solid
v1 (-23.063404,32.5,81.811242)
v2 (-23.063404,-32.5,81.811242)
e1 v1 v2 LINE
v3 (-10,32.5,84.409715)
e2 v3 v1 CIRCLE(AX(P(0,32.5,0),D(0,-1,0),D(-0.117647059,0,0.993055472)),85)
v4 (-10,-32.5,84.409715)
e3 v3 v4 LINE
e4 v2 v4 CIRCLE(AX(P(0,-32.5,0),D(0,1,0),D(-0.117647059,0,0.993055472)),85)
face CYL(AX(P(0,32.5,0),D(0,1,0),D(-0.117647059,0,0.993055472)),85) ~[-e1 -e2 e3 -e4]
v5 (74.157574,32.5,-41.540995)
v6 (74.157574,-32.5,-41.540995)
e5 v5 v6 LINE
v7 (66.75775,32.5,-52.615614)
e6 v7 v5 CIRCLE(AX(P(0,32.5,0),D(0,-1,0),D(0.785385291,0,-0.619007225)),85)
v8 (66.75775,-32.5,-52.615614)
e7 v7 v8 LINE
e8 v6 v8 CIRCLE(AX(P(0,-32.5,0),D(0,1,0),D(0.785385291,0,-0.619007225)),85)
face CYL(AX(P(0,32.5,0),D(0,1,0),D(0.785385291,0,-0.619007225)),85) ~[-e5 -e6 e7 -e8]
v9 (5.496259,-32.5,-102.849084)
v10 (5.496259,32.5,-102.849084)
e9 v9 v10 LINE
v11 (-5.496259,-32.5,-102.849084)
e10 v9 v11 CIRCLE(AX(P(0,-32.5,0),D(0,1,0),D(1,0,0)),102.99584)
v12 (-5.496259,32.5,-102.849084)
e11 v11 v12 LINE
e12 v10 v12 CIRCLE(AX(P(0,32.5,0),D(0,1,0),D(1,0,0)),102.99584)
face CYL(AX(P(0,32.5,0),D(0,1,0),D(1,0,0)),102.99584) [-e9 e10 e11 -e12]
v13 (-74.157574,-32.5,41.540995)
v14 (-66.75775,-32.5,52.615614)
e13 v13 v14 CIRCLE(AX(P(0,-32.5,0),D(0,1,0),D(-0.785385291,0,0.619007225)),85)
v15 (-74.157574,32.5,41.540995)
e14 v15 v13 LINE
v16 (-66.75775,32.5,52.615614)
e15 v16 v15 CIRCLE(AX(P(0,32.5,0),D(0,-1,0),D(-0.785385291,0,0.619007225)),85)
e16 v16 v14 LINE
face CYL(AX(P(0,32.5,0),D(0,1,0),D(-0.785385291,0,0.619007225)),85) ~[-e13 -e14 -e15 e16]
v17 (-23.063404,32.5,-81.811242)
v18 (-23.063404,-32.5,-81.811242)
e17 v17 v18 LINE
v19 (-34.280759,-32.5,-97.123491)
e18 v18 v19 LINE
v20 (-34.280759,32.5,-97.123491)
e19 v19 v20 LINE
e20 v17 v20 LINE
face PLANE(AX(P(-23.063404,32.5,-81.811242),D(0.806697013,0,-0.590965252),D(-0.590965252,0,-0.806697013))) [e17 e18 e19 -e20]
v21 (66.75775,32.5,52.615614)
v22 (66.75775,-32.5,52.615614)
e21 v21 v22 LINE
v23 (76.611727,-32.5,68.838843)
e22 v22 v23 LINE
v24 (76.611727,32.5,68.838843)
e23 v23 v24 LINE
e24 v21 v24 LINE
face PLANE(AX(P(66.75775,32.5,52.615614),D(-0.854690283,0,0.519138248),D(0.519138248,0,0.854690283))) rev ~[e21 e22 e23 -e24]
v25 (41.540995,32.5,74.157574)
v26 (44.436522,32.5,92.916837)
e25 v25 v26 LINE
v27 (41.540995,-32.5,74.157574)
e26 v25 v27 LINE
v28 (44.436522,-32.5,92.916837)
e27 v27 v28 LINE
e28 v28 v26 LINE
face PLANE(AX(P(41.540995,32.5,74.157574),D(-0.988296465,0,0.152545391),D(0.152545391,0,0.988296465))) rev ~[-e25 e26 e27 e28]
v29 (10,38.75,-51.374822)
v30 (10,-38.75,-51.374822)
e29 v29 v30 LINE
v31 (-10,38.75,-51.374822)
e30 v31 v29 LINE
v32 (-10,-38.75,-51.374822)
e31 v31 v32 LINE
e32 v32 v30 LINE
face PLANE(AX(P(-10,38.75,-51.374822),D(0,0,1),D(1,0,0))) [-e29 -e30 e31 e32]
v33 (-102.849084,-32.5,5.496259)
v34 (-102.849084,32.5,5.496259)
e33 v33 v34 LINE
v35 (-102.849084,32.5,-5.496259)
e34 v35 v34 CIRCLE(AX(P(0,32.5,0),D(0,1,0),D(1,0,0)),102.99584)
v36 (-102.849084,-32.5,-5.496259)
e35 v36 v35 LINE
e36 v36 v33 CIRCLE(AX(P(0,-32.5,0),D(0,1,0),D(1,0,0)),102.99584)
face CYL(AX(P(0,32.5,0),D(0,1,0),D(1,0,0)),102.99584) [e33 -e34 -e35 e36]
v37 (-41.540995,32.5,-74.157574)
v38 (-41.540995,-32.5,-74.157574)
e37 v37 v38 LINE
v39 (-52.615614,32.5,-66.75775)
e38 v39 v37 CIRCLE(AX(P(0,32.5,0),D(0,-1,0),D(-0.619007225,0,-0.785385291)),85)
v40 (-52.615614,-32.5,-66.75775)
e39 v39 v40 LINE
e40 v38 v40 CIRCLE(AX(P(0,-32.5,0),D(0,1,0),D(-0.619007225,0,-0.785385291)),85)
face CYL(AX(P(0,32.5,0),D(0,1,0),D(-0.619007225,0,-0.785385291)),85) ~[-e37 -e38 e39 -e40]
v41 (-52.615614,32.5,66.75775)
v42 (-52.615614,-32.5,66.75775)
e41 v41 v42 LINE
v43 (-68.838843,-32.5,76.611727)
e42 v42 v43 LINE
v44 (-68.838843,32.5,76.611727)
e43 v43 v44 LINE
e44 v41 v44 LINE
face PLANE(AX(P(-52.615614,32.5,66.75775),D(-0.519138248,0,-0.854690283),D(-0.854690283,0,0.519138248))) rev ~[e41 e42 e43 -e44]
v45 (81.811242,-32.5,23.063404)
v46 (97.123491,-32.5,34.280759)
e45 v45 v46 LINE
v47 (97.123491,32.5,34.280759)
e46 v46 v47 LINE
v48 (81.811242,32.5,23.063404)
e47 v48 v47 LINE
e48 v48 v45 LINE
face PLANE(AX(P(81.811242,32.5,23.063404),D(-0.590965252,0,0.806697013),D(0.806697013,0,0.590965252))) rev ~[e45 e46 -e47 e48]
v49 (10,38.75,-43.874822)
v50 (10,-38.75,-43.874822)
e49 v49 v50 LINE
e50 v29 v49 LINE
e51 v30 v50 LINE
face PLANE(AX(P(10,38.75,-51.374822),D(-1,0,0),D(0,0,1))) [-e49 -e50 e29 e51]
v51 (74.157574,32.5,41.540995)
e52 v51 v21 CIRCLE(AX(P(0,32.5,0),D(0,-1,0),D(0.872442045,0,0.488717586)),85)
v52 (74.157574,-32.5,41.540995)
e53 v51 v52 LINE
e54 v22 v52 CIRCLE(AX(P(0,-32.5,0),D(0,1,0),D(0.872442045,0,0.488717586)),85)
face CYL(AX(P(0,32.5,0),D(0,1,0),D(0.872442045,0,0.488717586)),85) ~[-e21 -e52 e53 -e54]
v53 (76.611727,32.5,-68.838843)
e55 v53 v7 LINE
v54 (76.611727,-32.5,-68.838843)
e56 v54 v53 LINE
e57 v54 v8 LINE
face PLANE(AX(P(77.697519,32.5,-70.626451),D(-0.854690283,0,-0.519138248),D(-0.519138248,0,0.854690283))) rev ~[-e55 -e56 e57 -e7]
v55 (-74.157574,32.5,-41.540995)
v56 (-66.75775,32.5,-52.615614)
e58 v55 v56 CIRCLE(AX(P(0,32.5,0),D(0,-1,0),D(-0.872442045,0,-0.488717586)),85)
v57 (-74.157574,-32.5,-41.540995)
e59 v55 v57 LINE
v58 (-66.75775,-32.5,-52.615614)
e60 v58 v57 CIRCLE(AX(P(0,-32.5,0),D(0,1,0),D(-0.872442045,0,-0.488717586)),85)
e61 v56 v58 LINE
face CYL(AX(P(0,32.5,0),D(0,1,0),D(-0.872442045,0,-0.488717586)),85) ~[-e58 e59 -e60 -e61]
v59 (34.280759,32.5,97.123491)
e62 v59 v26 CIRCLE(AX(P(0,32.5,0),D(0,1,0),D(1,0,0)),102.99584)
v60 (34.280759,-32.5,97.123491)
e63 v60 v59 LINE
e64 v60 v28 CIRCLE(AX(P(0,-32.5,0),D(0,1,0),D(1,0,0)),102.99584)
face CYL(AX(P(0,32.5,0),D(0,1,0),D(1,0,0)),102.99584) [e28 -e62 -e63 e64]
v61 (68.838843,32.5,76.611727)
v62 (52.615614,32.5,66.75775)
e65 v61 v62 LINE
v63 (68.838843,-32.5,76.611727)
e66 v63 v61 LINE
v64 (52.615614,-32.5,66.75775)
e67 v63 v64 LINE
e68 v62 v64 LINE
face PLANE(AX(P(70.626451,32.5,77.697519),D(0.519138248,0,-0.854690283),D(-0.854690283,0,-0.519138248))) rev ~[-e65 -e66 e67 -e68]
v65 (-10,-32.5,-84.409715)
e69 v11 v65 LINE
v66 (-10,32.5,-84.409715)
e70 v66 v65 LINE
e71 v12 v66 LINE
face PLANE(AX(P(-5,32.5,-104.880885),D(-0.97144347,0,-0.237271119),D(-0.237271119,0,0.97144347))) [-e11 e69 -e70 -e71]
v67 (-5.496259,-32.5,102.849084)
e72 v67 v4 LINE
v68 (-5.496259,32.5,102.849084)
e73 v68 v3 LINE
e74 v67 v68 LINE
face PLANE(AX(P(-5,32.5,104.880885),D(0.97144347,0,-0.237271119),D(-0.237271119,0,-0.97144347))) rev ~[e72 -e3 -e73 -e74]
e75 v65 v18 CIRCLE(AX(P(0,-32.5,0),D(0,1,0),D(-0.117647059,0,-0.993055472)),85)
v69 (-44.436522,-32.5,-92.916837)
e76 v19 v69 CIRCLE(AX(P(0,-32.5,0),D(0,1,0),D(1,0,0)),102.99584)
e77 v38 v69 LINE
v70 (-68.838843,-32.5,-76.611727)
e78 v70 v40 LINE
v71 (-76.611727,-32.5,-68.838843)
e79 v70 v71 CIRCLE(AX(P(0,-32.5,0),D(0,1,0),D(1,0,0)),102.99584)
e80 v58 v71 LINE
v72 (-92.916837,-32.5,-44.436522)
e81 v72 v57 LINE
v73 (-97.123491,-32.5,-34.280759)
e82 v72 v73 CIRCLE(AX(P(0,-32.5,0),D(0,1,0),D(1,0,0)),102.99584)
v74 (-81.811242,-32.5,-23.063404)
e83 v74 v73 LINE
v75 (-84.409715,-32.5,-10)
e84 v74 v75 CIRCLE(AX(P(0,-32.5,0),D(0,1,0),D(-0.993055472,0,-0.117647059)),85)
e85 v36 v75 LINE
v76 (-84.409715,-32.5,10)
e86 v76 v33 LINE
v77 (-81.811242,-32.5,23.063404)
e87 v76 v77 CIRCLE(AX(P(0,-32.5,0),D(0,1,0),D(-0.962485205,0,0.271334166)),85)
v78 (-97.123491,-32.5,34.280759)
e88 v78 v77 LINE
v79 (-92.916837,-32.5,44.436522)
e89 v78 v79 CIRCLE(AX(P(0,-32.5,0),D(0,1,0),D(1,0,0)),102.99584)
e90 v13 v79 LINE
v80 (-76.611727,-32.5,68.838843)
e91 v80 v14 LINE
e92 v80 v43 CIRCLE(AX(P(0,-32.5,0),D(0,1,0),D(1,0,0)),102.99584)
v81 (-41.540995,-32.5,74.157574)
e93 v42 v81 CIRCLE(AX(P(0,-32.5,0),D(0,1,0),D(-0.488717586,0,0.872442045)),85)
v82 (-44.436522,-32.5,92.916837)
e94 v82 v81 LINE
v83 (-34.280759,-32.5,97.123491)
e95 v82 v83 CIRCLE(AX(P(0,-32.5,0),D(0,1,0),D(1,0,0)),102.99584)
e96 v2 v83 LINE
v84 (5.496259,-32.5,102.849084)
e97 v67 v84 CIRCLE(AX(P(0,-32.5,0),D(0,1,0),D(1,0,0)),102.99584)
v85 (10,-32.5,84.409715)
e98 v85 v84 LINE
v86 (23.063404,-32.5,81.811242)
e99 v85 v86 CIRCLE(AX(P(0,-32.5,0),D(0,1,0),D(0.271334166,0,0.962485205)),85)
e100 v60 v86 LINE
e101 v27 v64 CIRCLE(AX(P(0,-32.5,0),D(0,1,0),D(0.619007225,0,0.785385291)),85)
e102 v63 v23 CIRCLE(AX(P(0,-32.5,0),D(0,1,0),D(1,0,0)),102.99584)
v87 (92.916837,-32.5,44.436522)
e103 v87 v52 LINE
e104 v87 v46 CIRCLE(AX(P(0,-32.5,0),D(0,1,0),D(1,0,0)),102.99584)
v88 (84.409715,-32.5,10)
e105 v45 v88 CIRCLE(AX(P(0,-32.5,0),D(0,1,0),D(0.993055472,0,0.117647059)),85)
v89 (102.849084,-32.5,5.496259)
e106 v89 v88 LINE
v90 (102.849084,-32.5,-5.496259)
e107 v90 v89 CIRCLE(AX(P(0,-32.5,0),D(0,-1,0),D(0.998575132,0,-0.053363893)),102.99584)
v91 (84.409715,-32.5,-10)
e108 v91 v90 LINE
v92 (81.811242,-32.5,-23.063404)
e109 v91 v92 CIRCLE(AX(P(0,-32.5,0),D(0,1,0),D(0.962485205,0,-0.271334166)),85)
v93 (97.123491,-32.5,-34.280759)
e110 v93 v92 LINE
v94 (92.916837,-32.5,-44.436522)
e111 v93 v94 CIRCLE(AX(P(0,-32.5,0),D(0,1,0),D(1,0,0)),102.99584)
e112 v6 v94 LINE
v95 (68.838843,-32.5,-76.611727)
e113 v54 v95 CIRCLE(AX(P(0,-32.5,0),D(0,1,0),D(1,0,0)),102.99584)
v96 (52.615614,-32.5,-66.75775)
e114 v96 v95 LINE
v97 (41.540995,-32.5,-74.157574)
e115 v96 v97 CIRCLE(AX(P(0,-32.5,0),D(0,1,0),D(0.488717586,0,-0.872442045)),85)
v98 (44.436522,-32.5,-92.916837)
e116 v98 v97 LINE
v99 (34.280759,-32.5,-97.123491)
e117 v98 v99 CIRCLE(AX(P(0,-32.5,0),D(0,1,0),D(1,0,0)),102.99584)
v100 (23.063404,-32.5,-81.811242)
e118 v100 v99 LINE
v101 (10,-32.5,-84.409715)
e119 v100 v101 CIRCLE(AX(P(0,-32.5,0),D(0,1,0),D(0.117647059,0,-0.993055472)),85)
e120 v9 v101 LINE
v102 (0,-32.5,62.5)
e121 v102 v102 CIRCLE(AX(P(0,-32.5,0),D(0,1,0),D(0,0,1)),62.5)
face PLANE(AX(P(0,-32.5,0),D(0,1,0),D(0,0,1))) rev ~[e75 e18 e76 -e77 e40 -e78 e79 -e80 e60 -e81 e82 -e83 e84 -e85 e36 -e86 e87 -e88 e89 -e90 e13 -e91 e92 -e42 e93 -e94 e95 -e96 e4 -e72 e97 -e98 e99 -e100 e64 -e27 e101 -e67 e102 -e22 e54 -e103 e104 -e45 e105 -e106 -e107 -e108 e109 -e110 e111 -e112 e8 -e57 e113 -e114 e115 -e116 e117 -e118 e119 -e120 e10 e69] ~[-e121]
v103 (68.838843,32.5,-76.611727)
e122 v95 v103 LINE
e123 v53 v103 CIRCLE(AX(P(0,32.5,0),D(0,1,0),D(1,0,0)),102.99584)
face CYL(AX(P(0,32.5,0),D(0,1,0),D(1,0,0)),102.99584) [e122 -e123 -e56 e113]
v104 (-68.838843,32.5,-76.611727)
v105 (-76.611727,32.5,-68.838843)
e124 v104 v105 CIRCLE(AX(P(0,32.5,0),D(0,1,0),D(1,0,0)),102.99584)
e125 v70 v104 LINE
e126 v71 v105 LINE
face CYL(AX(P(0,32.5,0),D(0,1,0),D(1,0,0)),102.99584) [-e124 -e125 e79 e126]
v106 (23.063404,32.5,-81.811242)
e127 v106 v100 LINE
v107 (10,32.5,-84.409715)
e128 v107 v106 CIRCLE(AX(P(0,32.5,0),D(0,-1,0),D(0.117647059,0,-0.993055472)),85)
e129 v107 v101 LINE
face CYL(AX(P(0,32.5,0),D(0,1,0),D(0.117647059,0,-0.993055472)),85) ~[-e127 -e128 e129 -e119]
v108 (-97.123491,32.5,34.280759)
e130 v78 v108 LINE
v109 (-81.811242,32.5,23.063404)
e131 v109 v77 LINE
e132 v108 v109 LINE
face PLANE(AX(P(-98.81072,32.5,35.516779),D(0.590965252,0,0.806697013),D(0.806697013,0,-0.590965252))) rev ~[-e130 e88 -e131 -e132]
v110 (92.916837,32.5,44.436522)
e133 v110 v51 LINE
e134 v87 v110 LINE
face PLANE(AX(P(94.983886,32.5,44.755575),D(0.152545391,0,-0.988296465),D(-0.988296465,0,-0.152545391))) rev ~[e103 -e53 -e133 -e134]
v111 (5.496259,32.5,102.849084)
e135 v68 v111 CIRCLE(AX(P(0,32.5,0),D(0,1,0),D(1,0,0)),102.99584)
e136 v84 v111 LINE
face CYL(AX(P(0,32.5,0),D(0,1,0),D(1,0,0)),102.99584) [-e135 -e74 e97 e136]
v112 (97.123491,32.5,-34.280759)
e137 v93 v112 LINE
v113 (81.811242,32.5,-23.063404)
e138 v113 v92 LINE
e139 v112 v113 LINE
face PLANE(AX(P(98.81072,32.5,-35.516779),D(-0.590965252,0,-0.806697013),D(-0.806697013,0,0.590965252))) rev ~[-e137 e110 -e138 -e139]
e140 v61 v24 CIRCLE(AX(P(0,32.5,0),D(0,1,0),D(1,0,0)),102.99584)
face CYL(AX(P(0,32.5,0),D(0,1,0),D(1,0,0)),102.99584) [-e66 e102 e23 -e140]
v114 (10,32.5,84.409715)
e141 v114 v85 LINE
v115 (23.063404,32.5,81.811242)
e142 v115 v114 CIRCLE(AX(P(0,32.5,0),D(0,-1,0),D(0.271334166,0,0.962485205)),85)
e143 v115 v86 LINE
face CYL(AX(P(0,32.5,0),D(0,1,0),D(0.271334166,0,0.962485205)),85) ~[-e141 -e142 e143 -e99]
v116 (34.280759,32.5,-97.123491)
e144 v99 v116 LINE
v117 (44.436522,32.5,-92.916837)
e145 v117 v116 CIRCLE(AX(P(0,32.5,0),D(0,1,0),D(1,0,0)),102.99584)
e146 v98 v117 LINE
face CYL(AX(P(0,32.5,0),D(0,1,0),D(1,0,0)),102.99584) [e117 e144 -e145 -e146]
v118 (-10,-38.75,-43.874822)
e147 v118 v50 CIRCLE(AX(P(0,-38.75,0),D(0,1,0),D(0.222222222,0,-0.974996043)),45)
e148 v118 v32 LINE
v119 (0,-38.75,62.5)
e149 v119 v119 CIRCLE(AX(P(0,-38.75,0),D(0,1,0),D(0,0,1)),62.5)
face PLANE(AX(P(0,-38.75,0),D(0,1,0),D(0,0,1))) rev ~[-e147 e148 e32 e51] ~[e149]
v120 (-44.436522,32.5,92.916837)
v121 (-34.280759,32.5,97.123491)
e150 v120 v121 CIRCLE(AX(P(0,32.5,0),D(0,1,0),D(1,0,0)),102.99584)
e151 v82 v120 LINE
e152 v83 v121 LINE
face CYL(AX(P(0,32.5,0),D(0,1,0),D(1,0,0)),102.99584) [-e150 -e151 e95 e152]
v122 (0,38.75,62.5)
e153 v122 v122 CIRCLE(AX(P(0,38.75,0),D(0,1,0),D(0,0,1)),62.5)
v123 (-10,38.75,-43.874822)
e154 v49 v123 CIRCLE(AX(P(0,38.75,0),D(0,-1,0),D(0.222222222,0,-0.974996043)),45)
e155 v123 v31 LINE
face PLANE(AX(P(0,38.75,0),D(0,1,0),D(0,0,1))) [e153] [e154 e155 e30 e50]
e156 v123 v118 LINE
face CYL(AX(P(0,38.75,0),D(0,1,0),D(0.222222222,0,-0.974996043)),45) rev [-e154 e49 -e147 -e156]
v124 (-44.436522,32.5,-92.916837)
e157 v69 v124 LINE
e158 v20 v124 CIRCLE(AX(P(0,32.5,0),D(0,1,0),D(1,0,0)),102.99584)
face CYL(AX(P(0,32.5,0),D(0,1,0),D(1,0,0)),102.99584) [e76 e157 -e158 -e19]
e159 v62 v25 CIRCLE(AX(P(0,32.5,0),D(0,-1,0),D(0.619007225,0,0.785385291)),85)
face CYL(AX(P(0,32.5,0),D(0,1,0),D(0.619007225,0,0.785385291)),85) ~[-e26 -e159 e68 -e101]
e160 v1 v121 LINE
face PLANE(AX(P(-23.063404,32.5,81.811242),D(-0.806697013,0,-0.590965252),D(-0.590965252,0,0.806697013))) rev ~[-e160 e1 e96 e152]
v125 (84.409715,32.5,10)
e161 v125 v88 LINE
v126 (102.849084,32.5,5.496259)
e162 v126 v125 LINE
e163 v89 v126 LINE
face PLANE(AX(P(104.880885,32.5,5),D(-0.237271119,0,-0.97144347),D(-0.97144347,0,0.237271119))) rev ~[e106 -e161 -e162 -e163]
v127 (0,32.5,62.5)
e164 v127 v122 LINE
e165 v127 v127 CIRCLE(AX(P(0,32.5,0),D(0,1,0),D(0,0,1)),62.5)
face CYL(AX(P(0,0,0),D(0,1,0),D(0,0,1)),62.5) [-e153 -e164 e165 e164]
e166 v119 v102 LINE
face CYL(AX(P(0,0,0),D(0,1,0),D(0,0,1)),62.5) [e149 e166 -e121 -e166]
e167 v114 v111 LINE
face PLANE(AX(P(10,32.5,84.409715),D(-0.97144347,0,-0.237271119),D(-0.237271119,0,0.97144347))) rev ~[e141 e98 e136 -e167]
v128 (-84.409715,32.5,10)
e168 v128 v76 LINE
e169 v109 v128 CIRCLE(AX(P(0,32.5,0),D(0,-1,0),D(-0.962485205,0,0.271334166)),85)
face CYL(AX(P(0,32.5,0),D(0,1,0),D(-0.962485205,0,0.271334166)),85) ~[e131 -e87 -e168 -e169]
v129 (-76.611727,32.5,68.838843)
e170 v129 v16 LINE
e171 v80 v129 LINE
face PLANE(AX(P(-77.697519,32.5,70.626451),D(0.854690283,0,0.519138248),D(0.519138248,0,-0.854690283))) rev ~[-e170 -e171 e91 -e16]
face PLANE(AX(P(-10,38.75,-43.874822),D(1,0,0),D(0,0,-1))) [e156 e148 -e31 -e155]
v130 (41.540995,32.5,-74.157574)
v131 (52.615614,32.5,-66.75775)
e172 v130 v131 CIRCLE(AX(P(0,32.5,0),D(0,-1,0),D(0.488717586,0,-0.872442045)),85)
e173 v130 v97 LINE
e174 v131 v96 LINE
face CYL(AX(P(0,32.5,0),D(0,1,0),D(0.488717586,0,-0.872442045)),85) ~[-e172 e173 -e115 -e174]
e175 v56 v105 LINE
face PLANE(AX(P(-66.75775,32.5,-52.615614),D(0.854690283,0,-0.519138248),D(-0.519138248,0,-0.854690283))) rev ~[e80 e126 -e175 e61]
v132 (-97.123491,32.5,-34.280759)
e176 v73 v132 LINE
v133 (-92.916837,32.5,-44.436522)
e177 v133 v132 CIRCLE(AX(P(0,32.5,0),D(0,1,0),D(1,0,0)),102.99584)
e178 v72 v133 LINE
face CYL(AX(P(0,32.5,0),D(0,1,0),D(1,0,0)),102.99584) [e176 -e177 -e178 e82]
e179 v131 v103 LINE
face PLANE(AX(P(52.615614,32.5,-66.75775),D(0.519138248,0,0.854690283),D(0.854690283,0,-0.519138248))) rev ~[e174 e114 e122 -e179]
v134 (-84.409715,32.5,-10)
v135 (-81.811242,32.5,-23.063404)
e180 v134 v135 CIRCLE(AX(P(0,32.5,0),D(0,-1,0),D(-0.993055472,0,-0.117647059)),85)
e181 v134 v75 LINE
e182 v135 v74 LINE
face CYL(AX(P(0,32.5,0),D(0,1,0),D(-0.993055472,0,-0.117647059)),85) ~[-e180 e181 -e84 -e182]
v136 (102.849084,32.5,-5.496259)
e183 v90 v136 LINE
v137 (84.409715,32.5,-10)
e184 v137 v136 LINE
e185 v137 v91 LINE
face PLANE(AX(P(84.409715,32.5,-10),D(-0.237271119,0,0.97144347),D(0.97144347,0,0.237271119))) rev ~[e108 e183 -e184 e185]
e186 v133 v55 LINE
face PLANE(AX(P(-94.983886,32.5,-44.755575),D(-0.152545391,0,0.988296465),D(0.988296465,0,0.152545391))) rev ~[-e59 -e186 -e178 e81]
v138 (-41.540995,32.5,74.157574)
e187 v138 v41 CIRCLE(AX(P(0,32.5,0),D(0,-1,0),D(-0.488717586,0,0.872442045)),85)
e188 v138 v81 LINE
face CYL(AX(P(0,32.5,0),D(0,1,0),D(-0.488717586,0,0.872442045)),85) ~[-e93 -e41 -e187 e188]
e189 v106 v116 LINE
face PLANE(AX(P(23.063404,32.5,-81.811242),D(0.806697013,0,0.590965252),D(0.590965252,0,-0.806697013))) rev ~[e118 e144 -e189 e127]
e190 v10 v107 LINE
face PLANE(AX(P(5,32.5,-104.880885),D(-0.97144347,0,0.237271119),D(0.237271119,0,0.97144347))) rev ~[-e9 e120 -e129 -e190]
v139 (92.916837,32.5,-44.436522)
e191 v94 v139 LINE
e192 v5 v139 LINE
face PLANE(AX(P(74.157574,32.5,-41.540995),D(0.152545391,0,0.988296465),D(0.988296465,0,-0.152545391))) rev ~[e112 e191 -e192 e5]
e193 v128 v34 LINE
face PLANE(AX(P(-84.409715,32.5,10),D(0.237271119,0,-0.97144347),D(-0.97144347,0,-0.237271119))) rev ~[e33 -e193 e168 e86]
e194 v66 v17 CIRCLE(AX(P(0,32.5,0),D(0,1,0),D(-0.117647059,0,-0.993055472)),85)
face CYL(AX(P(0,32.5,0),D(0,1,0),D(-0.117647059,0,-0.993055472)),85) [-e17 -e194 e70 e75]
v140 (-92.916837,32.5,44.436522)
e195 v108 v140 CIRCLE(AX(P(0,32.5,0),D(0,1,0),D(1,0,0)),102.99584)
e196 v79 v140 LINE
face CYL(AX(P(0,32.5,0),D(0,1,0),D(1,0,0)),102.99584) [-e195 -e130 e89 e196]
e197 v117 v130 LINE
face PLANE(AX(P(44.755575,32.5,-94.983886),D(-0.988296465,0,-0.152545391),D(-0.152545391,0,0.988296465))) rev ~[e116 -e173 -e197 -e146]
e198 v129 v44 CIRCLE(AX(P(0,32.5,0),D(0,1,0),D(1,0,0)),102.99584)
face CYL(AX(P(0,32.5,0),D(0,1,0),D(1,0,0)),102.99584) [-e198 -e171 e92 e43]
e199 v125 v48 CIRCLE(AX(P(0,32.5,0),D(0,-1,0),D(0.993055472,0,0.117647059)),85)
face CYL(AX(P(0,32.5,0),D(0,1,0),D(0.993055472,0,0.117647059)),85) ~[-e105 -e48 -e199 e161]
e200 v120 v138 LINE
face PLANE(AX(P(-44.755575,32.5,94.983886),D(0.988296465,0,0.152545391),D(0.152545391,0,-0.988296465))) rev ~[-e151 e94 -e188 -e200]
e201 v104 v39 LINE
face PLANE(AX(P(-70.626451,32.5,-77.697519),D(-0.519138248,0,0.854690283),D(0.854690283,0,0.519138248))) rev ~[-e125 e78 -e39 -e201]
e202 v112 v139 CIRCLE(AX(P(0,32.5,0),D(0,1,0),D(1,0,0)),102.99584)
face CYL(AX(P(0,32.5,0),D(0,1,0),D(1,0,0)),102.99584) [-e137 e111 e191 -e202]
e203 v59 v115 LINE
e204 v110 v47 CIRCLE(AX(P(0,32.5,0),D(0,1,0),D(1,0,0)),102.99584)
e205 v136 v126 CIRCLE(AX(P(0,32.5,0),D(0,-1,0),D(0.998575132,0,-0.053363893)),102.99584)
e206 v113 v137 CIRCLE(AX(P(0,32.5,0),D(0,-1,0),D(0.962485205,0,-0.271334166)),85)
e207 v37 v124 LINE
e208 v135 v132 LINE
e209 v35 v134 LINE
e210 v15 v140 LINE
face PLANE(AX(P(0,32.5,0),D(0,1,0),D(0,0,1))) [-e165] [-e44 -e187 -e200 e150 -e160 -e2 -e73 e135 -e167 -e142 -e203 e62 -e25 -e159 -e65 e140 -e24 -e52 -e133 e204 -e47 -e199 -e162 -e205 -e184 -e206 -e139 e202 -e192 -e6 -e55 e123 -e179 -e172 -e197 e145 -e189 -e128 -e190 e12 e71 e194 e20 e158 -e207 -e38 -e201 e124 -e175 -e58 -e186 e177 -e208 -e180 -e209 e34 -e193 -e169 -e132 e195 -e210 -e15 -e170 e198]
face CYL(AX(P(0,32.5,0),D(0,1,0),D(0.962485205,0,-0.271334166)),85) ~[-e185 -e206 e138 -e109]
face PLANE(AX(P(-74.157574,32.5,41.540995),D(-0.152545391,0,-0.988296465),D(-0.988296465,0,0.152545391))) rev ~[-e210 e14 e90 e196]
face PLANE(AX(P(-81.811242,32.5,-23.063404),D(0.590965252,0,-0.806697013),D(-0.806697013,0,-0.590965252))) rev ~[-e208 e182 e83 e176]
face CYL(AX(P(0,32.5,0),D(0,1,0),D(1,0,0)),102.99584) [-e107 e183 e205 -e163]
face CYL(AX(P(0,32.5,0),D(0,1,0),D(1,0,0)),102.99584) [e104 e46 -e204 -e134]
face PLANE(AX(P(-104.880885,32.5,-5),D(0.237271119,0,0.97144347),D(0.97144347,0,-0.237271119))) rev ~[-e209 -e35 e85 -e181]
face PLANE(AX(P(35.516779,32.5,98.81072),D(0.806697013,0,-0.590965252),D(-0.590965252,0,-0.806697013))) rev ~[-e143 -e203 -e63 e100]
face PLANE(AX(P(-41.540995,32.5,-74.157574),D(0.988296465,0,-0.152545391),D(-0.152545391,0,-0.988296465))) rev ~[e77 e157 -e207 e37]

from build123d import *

# Parameters (mm, degrees)
SKETCH1_R           = 105
BOSS_EXTRUDE1_DEPTH = 32.5
SKETCH2_R           = 62.5
BOSS_EXTRUDE2_DEPTH = 38.75
CUT_EXTRUDE1_DEPTH  = 168.5
CUT_EXTRUDE2_DEPTH  = 165.70143442
SKETCH5_R           = 105
SKETCH5_R_2         = 102.995839741
CUT_EXTRUDE3_DEPTH  = 165.70143442


with BuildPart() as part:
    # Sketch1 → Boss-Extrude1 (new, symmetric)
    with BuildSketch(Plane(origin=(0, 0, 0), x_dir=(1, 0, 0), z_dir=(0, 1, 0))):
        with Locations(Location((0, 0, 0), (0, 0, 270))):
            Circle(SKETCH1_R)
    extrude(amount=BOSS_EXTRUDE1_DEPTH, both=True)

    # Sketch2 → Boss-Extrude2 (add, symmetric)
    with BuildSketch(Plane(origin=(0, 0, 0), x_dir=(1, 0, 0), z_dir=(0, 1, 0))):
        with Locations(Location((0, 0, 0), (0, 0, 270))):
            Circle(SKETCH2_R)
    extrude(amount=BOSS_EXTRUDE2_DEPTH, both=True)

    # Sketch3 → Cut-Extrude1 (cut, through all)
    with BuildSketch(Plane(origin=(0, 38.75, 0), x_dir=(1, 0, 0), z_dir=(0, 1, 0))):
        with BuildLine():
            Line((-10, 43.874821937), (-10, 51.374821937))
            Line((-10, 51.374821937), (10, 51.374821937))
            Line((10, 51.374821937), (10, 43.874821937))
            ThreePointArc((10, 43.874821937), (0, -45), (-10, 43.874821937))
        make_face()
    extrude(amount=-CUT_EXTRUDE1_DEPTH, mode=Mode.SUBTRACT)

    # Sketch4 → Cut-Extrude2 (cut, through all)
    with BuildSketch(Plane(origin=(0, 32.5, 0), x_dir=(1, 0, 0), z_dir=(0, 1, 0))):
        with BuildLine():
            Line((-5, 104.880884817), (-10, 84.409715081))
            ThreePointArc((-10, 84.409715081), (-16.582677371, 83.366748834), (-23.063404167, 81.811242432))
            Line((-23.063404167, 81.811242432), (-35.516779329, 98.810719996))
            ThreePointArc((-35.516779329, 98.810719996), (-20.484483812, 102.982454442), (-5, 104.880884817))
        make_face()
        with BuildLine():
            Line((5, 104.880884817), (10, 84.409715081))
            ThreePointArc((10, 84.409715081), (16.582677371, 83.366748834), (23.063404167, 81.811242432))
            Line((23.063404167, 81.811242432), (35.516779329, 98.810719996))
            ThreePointArc((35.516779329, 98.810719996), (20.484483812, 102.982454442), (5, 104.880884817))
        make_face()
        with BuildLine():
            Line((44.755574654, 94.983885672), (41.540994817, 74.157573784))
            ThreePointArc((41.540994817, 74.157573784), (47.223469807, 70.674917046), (52.61561412, 66.757749743))
            Line((52.61561412, 66.757749743), (70.626450965, 77.697518777))
            ThreePointArc((70.626450965, 77.697518777), (58.334874467, 87.304309292), (44.755574654, 94.983885672))
        make_face()
        with BuildLine():
            Line((77.697518777, 70.626450965), (66.757749743, 52.61561412))
            ThreePointArc((66.757749743, 52.61561412), (70.674917046, 47.223469807), (74.157573784, 41.540994817))
            Line((74.157573784, 41.540994817), (94.983885672, 44.755574654))
            ThreePointArc((94.983885672, 44.755574654), (87.304309292, 58.334874467), (77.697518777, 70.626450965))
        make_face()
        with BuildLine():
            Line((98.810719996, 35.516779329), (81.811242432, 23.063404167))
            ThreePointArc((81.811242432, 23.063404167), (83.366748834, 16.582677371), (84.409715081, 10))
            Line((84.409715081, 10), (104.880884817, 5))
            ThreePointArc((104.880884817, 5), (102.982454442, 20.484483812), (98.810719996, 35.516779329))
        make_face()
        with BuildLine():
            Line((104.880884817, -5), (84.409715081, -10))
            ThreePointArc((84.409715081, -10), (83.366748834, -16.582677371), (81.811242432, -23.063404167))
            Line((81.811242432, -23.063404167), (98.810719996, -35.516779329))
            ThreePointArc((98.810719996, -35.516779329), (102.982454442, -20.484483812), (104.880884817, -5))
        make_face()
        with BuildLine():
            Line((94.983885672, -44.755574654), (74.157573784, -41.540994817))
            ThreePointArc((74.157573784, -41.540994817), (70.674917046, -47.223469807), (66.757749743, -52.61561412))
            Line((66.757749743, -52.61561412), (77.697518777, -70.626450965))
            ThreePointArc((77.697518777, -70.626450965), (87.304309292, -58.334874467), (94.983885672, -44.755574654))
        make_face()
        with BuildLine():
            Line((70.626450965, -77.697518777), (52.61561412, -66.757749743))
            ThreePointArc((52.61561412, -66.757749743), (47.223469807, -70.674917046), (41.540994817, -74.157573784))
            Line((41.540994817, -74.157573784), (44.755574654, -94.983885672))
            ThreePointArc((44.755574654, -94.983885672), (58.334874467, -87.304309292), (70.626450965, -77.697518777))
        make_face()
        with BuildLine():
            Line((35.516779329, -98.810719996), (23.063404167, -81.811242432))
            ThreePointArc((23.063404167, -81.811242432), (16.582677371, -83.366748834), (10, -84.409715081))
            Line((10, -84.409715081), (5, -104.880884817))
            ThreePointArc((5, -104.880884817), (20.484483812, -102.982454442), (35.516779329, -98.810719996))
        make_face()
        with BuildLine():
            Line((-5, -104.880884817), (-10, -84.409715081))
            ThreePointArc((-10, -84.409715081), (-16.582677371, -83.366748834), (-23.063404167, -81.811242432))
            Line((-23.063404167, -81.811242432), (-35.516779329, -98.810719996))
            ThreePointArc((-35.516779329, -98.810719996), (-20.484483812, -102.982454442), (-5, -104.880884817))
        make_face()
        with BuildLine():
            Line((-44.755574654, -94.983885672), (-41.540994817, -74.157573784))
            ThreePointArc((-41.540994817, -74.157573784), (-47.223469807, -70.674917046), (-52.61561412, -66.757749743))
            Line((-52.61561412, -66.757749743), (-70.626450965, -77.697518777))
            ThreePointArc((-70.626450965, -77.697518777), (-58.334874467, -87.304309292), (-44.755574654, -94.983885672))
        make_face()
        with BuildLine():
            Line((-77.697518777, -70.626450965), (-66.757749743, -52.61561412))
            ThreePointArc((-66.757749743, -52.61561412), (-70.674917046, -47.223469807), (-74.157573784, -41.540994817))
            Line((-74.157573784, -41.540994817), (-94.983885672, -44.755574654))
            ThreePointArc((-94.983885672, -44.755574654), (-87.304309292, -58.334874467), (-77.697518777, -70.626450965))
        make_face()
        with BuildLine():
            Line((-98.810719996, -35.516779329), (-81.811242432, -23.063404167))
            ThreePointArc((-81.811242432, -23.063404167), (-83.366748834, -16.582677371), (-84.409715081, -10))
            Line((-84.409715081, -10), (-104.880884817, -5))
            ThreePointArc((-104.880884817, -5), (-102.982454442, -20.484483812), (-98.810719996, -35.516779329))
        make_face()
        with BuildLine():
            Line((-104.880884817, 5), (-84.409715081, 10))
            ThreePointArc((-84.409715081, 10), (-83.366748834, 16.582677371), (-81.811242432, 23.063404167))
            Line((-81.811242432, 23.063404167), (-98.810719996, 35.516779329))
            ThreePointArc((-98.810719996, 35.516779329), (-102.982454442, 20.484483812), (-104.880884817, 5))
        make_face()
        with BuildLine():
            Line((-94.983885672, 44.755574654), (-74.157573784, 41.540994817))
            ThreePointArc((-74.157573784, 41.540994817), (-70.674917046, 47.223469807), (-66.757749743, 52.61561412))
            Line((-66.757749743, 52.61561412), (-77.697518777, 70.626450965))
            ThreePointArc((-77.697518777, 70.626450965), (-87.304309292, 58.334874467), (-94.983885672, 44.755574654))
        make_face()
        with BuildLine():
            Line((-70.626450965, 77.697518777), (-52.61561412, 66.757749743))
            ThreePointArc((-52.61561412, 66.757749743), (-47.223469807, 70.674917046), (-41.540994817, 74.157573784))
            Line((-41.540994817, 74.157573784), (-44.755574654, 94.983885672))
            ThreePointArc((-44.755574654, 94.983885672), (-58.334874467, 87.304309292), (-70.626450965, 77.697518777))
        make_face()
    extrude(amount=-CUT_EXTRUDE2_DEPTH, mode=Mode.SUBTRACT)

    # Sketch5 → Cut-Extrude3 (cut, through all)
    with BuildSketch(Plane(origin=(0, 32.5, 0), x_dir=(1, 0, 0), z_dir=(0, 1, 0))):
        Circle(SKETCH5_R)
        Circle(SKETCH5_R_2, mode=Mode.SUBTRACT)
    extrude(amount=-CUT_EXTRUDE3_DEPTH, mode=Mode.SUBTRACT)


solid = part.part
